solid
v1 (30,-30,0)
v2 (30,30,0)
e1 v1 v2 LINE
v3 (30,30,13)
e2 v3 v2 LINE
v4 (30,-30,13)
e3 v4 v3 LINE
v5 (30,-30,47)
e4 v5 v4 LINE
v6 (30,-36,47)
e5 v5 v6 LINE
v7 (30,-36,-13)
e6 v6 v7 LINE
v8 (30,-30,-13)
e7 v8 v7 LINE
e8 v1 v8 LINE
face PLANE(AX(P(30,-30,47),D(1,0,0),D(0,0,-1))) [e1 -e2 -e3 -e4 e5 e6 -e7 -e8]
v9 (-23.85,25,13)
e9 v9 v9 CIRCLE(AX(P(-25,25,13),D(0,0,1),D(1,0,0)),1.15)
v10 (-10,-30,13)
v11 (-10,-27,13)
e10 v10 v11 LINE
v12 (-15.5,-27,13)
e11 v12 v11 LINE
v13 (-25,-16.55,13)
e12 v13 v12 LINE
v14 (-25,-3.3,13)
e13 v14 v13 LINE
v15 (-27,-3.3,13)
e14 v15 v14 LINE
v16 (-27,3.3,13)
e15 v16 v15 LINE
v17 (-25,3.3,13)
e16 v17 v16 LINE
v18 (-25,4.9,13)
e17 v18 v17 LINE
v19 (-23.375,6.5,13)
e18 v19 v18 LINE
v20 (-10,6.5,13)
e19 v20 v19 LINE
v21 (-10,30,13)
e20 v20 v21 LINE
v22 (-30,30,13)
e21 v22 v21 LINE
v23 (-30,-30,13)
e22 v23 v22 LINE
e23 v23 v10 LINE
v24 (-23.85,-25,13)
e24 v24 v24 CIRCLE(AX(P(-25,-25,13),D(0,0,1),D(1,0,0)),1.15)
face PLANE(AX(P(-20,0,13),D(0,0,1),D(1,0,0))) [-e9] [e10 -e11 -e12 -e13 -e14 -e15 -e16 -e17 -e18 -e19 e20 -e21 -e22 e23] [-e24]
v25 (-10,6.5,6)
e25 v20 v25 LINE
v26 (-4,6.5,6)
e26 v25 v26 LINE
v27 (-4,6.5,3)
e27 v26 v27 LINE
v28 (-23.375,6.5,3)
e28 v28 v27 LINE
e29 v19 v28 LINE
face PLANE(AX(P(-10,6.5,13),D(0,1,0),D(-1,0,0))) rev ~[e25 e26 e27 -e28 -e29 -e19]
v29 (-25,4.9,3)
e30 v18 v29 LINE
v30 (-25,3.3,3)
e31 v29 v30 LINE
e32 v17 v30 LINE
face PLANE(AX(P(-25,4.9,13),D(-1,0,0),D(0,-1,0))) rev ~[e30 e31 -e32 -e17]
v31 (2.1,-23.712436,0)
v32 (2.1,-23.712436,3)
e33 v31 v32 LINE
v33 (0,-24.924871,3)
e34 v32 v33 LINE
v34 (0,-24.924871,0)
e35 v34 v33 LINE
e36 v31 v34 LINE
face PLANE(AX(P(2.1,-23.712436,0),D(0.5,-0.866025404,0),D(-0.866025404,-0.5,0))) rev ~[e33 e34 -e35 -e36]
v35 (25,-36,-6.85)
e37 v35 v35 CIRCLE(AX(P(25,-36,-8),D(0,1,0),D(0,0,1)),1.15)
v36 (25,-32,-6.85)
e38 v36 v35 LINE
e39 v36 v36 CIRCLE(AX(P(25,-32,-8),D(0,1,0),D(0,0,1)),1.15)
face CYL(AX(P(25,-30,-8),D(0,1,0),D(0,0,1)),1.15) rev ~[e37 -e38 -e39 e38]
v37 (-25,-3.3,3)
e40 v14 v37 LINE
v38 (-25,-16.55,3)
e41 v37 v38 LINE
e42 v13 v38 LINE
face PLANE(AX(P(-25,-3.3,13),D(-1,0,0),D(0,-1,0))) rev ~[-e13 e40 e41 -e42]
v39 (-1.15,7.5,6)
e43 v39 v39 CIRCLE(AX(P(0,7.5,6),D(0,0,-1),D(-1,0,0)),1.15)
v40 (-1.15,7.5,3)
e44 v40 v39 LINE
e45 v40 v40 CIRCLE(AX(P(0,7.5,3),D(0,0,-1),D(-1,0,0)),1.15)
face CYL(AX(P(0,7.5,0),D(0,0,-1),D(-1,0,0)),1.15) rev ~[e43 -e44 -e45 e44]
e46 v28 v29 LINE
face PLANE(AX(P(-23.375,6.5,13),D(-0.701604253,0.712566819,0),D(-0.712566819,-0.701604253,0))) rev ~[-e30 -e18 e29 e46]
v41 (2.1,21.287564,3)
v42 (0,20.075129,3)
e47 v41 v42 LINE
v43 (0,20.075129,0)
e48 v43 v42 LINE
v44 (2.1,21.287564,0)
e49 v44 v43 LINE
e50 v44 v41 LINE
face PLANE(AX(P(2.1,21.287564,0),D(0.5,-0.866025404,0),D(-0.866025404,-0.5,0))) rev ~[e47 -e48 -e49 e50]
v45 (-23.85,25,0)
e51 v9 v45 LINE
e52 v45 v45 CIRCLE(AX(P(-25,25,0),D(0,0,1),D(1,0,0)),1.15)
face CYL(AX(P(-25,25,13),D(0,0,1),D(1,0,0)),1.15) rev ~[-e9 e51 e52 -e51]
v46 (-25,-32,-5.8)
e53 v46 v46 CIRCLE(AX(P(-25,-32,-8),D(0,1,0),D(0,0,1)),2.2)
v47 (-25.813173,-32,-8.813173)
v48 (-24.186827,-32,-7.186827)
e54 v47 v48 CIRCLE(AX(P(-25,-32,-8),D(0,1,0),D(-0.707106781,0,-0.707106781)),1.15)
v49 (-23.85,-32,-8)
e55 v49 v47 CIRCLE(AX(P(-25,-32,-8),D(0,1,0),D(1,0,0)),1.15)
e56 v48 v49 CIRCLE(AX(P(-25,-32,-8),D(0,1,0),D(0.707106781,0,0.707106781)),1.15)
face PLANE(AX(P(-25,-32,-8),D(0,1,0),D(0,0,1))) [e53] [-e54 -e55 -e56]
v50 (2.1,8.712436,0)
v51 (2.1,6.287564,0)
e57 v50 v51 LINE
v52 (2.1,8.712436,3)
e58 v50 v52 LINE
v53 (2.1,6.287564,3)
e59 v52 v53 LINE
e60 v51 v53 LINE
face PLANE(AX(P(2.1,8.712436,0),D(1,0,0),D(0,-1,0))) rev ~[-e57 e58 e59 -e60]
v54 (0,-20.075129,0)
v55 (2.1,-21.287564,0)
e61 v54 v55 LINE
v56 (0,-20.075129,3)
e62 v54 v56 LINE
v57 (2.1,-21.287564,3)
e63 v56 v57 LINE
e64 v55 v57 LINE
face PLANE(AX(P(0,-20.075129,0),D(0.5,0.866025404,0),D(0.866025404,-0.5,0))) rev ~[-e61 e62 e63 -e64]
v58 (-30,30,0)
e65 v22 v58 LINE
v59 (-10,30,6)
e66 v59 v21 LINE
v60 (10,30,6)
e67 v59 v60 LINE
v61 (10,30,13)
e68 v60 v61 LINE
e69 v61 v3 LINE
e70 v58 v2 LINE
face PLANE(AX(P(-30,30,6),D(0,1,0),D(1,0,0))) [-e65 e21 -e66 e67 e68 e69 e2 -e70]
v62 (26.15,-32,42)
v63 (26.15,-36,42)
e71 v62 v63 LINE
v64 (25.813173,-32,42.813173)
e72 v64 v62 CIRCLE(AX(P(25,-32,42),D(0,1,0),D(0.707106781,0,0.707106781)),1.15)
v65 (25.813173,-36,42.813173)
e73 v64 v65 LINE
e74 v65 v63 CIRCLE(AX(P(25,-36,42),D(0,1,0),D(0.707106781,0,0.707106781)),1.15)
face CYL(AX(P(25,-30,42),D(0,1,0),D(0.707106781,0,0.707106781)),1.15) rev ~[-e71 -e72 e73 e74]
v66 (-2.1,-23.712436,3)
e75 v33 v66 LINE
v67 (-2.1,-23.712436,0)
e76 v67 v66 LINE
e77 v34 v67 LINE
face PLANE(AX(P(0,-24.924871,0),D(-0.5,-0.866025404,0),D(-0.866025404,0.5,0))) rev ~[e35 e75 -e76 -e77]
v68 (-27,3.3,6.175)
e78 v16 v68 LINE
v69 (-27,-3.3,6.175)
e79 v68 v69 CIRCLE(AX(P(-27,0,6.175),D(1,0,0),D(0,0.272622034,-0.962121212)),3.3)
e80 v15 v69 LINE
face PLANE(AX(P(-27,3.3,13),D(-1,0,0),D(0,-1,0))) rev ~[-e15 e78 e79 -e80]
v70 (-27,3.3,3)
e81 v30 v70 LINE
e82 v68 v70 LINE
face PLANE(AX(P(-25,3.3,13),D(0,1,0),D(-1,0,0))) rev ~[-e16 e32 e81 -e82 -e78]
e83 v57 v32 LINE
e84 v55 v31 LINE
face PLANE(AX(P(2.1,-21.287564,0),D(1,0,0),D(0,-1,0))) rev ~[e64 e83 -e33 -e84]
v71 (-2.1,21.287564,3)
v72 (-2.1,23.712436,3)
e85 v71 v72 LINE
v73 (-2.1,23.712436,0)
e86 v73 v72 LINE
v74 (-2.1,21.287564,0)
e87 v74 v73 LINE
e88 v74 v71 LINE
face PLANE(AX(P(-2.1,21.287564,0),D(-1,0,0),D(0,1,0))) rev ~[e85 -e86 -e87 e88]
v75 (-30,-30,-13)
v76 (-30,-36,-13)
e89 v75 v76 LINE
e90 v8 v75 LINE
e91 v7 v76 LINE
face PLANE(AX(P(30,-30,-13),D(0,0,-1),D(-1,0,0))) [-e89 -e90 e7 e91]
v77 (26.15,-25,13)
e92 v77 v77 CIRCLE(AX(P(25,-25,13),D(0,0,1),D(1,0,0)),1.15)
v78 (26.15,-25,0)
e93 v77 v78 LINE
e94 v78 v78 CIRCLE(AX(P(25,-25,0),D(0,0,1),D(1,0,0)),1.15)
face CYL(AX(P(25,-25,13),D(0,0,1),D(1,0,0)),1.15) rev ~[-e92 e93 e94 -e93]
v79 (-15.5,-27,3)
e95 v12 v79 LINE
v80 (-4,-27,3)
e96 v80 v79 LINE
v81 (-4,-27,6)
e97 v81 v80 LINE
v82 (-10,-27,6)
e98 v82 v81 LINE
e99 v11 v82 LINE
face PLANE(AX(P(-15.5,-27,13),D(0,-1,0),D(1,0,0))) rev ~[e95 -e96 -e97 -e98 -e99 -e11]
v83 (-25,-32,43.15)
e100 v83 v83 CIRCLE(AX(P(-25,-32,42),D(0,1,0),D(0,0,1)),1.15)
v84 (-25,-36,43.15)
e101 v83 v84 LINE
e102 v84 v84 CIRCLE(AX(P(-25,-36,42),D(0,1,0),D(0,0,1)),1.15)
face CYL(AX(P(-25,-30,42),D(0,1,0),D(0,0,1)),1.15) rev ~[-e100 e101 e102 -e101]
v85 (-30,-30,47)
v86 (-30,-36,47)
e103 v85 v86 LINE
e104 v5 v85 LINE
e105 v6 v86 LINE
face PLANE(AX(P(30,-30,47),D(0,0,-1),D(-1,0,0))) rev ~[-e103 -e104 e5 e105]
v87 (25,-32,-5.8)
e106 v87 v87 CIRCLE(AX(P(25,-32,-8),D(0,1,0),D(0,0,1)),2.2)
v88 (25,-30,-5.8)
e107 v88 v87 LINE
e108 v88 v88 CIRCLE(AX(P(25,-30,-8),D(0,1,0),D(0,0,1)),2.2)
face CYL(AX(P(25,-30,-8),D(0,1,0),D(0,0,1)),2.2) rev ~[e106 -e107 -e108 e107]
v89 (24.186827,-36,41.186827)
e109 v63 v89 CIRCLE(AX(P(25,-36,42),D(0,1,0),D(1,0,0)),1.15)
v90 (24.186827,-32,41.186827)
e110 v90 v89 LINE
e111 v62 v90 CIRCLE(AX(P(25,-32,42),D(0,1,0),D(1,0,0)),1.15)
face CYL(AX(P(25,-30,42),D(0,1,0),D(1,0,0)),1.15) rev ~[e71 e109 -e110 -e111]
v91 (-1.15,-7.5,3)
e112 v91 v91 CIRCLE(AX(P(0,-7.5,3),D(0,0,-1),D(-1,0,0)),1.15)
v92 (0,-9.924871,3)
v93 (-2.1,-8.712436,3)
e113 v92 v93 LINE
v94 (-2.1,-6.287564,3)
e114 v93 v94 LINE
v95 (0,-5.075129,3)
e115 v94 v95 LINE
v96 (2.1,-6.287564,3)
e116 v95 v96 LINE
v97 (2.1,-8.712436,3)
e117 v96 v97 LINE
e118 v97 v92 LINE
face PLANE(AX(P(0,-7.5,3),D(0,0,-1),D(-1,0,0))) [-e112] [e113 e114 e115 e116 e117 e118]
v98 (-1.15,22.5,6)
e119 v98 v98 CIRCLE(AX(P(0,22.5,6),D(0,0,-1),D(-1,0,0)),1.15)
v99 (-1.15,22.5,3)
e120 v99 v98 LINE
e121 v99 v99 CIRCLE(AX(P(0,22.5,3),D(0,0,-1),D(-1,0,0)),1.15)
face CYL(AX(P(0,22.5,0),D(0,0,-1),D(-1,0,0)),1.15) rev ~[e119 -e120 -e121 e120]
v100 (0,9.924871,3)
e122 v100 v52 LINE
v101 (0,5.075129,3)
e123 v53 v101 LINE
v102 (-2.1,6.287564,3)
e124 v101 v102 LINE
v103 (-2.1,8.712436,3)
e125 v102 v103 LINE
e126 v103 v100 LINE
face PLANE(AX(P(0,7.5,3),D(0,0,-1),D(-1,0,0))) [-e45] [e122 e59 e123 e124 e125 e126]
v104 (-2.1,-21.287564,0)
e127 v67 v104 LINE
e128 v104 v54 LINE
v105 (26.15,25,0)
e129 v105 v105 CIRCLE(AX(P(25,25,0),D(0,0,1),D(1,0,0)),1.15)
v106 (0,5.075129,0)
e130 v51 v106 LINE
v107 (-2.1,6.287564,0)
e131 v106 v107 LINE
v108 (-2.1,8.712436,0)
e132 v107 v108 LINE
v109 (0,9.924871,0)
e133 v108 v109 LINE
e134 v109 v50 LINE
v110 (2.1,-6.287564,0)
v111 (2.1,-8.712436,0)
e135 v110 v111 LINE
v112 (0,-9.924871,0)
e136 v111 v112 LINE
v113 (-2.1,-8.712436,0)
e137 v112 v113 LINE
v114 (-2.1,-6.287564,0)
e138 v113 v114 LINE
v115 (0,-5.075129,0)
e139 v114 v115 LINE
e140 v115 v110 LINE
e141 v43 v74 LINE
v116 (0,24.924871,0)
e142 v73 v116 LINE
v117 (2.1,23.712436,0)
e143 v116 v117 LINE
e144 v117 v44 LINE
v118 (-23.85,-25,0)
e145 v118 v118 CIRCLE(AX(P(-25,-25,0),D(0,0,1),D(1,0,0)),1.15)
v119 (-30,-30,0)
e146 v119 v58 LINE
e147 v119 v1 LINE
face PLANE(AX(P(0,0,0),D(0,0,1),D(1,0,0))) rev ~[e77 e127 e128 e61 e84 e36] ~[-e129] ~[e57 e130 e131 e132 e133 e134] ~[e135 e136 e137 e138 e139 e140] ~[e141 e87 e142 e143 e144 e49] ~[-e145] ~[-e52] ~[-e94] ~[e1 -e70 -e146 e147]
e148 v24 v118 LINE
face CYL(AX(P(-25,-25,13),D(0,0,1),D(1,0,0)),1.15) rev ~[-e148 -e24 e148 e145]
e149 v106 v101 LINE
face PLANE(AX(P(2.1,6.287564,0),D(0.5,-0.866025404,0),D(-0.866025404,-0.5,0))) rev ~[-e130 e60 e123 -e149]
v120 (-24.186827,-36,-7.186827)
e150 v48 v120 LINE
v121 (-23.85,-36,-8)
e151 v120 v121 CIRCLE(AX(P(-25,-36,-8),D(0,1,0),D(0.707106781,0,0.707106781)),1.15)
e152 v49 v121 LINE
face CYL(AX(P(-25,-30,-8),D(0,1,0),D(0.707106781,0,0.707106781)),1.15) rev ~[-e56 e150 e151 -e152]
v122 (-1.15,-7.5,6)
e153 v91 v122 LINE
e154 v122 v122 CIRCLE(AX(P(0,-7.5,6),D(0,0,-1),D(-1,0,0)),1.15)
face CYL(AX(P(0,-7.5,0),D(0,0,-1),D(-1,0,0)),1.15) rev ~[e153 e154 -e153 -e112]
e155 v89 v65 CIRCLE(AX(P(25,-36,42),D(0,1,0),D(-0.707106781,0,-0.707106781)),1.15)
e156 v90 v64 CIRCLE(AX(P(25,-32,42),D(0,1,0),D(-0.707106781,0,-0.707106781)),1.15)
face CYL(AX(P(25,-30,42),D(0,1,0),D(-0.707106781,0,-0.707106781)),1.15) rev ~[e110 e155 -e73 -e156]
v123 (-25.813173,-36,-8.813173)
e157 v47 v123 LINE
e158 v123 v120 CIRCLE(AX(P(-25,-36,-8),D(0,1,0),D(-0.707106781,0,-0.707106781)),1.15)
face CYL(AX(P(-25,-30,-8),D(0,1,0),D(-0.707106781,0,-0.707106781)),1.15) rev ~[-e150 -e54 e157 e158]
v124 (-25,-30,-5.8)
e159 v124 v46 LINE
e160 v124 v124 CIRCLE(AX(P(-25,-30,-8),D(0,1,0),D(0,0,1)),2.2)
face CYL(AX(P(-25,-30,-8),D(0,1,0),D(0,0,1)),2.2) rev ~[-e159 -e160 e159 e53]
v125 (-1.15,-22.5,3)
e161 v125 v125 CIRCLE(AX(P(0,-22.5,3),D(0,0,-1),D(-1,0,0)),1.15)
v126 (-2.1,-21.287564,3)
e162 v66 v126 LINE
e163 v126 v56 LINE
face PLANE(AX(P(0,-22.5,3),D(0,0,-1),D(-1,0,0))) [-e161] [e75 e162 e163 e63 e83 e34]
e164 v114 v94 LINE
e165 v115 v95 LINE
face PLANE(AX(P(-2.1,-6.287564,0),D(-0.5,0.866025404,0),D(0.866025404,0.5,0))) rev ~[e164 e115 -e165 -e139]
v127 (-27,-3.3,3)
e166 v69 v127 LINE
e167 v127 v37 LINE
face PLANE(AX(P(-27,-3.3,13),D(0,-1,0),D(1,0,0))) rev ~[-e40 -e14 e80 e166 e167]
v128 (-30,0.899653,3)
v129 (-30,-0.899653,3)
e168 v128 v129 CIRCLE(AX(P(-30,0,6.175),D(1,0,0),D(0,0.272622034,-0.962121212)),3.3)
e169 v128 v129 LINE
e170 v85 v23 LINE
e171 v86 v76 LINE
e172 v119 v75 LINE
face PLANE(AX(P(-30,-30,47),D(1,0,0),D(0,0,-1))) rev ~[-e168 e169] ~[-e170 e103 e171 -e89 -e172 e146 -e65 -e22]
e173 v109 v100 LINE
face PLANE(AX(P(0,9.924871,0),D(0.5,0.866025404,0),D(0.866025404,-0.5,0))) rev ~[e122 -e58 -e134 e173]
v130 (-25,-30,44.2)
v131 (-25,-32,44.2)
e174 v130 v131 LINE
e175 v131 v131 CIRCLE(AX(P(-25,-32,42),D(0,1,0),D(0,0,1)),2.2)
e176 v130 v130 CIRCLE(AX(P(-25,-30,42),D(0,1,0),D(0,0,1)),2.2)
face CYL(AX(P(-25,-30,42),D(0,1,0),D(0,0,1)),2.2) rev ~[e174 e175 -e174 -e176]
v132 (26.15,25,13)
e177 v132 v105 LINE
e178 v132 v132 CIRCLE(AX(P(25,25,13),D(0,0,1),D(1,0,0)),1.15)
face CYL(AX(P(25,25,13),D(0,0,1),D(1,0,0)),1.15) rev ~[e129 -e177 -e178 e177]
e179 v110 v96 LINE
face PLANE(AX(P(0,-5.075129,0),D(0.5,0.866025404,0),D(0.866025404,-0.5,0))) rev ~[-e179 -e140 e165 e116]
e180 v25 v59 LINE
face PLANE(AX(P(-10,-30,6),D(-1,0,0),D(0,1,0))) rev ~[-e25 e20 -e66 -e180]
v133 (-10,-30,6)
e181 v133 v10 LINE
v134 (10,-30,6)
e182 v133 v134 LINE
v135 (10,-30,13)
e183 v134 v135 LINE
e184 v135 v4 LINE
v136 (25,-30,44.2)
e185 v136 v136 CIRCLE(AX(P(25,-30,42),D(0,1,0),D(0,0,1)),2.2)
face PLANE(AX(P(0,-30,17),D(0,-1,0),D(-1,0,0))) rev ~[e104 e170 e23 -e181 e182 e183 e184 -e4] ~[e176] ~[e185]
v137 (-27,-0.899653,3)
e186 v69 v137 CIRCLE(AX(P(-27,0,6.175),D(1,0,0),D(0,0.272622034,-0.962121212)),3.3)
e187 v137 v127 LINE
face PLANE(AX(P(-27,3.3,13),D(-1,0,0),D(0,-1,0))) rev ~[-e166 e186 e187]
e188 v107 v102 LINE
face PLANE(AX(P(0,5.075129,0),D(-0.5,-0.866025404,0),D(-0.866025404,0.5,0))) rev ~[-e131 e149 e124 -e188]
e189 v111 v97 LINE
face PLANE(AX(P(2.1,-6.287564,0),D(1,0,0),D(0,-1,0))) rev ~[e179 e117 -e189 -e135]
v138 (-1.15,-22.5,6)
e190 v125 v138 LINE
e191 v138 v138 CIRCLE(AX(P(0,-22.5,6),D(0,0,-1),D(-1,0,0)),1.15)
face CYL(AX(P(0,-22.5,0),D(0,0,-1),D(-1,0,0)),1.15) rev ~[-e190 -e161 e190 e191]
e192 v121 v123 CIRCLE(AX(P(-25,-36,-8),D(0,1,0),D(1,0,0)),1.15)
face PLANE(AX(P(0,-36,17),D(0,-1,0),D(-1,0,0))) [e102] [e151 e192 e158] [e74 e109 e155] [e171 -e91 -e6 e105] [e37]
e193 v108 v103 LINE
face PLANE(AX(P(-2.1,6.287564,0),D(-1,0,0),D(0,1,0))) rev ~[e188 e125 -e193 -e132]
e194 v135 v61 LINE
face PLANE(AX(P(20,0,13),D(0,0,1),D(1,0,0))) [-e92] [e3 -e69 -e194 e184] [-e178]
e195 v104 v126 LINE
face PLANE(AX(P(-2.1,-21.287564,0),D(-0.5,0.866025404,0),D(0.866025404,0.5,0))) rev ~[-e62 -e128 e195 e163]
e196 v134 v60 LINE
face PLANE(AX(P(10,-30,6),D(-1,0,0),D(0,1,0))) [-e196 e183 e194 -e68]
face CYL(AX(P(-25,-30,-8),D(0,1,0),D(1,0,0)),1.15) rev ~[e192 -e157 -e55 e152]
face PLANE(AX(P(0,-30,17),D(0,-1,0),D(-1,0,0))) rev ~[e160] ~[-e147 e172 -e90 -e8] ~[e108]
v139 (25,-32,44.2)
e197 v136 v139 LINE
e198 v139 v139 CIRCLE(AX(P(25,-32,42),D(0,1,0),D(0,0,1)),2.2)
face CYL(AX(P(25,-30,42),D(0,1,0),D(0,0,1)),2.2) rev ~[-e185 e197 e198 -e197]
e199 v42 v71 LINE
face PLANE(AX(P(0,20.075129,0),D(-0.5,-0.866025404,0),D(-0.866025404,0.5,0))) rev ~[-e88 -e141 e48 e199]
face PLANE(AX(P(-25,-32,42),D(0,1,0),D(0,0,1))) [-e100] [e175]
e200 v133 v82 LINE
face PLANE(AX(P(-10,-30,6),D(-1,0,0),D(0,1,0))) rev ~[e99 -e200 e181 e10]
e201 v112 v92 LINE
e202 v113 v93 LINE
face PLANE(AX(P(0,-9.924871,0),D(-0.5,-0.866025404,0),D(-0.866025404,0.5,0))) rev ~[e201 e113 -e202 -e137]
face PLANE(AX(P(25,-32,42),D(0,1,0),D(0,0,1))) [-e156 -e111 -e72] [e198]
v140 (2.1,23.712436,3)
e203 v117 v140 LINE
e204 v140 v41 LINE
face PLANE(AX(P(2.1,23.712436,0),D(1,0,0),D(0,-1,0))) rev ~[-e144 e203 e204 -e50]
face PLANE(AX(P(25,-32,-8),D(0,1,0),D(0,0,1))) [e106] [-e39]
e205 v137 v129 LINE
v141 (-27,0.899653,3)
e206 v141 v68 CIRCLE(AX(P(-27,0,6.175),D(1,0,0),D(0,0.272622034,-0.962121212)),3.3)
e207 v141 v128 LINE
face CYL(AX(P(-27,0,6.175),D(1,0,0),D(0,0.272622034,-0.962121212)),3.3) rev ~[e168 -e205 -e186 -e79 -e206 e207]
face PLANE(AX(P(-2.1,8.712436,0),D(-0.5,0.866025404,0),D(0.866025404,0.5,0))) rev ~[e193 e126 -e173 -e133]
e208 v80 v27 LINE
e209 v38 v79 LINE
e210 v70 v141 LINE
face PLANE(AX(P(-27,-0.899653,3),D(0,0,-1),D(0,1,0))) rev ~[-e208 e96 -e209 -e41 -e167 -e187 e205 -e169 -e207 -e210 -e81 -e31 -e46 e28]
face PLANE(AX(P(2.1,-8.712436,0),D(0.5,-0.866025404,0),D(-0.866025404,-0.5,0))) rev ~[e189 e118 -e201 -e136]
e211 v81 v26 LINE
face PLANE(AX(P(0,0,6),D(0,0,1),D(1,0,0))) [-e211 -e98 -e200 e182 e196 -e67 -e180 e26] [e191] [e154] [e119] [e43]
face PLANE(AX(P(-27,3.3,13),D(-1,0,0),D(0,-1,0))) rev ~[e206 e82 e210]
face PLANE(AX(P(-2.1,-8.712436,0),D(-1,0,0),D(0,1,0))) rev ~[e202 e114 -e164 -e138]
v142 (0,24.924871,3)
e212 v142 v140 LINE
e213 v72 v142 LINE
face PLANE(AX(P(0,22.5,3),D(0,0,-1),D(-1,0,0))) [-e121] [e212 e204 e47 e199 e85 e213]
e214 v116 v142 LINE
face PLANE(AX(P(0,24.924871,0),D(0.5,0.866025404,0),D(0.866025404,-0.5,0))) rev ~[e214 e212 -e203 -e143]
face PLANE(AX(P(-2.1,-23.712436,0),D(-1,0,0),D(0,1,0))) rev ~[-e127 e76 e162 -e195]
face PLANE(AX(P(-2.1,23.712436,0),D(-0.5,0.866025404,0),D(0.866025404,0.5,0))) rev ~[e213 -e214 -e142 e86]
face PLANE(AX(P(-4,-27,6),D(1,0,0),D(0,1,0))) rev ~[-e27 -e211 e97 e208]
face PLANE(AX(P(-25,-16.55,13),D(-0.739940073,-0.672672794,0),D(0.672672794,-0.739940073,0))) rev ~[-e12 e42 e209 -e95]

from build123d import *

# Parameters (mm, degrees)
SKETCH1_W           = 60
SKETCH1_H           = 60
BOSS_EXTRUDE1_DEPTH = 6
CUT_EXTRUDE2_DEPTH  = 3
SKETCH12_R          = 1.15
CUT_EXTRUDE9_DEPTH  = 43.848570571
SKETCH5_W           = 20
SKETCH5_H           = 60
BOSS_EXTRUDE2_DEPTH = 7
SKETCH6_R           = 1.15
CUT_EXTRUDE4_DEPTH  = 45.373415465
CUT_EXTRUDE6_DEPTH  = 10
SKETCH10_W          = 6
SKETCH10_H          = 33.5
CUT_EXTRUDE7_DEPTH  = 3
CUT_EXTRUDE8_DEPTH  = 66.711490624
SKETCH13_W          = 60
SKETCH13_H          = 60
BOSS_EXTRUDE3_DEPTH = 6
SKETCH14_R          = 1.15
CUT_EXTRUDE10_DEPTH = 82.908485519
SKETCH15_R          = 2.2
CUT_EXTRUDE11_DEPTH = 2


with BuildPart() as part:
    # Sketch1 → Boss-Extrude1 (new body)
    with BuildSketch(Plane.XY):
        Rectangle(SKETCH1_W, SKETCH1_H)
    extrude(amount=BOSS_EXTRUDE1_DEPTH)

    # Sketch3 → Cut-Extrude2 (cut)
    with BuildSketch(Plane(origin=(0, 0, 0), x_dir=(-1, 0, 0), z_dir=(0, 0, -1))):
        Polygon((2.1, 6.287564435), (2.1, 8.712435565), (0, 9.924871131), (-2.1, 8.712435565), (-2.1, 6.287564435), (0, 5.075128869), align=None)
        Polygon((2.1, -8.712435565), (2.1, -6.287564435), (0, -5.075128869), (-2.1, -6.287564435), (-2.1, -8.712435565), (0, -9.924871131), align=None)
        Polygon((2.1, -23.712435565), (2.1, -21.287564435), (0, -20.075128869), (-2.1, -21.287564435), (-2.1, -23.712435565), (0, -24.924871131), align=None)
        Polygon((0, 20.075128869), (2.1, 21.287564435), (2.1, 23.712435565), (0, 24.924871131), (-2.1, 23.712435565), (-2.1, 21.287564435), align=None)
    extrude(amount=-CUT_EXTRUDE2_DEPTH, mode=Mode.SUBTRACT)

    # Sketch12 → Cut-Extrude9 (cut, through all)
    with BuildSketch(Plane(origin=(0, 0, 0), x_dir=(-1, 0, 0), z_dir=(0, 0, -1))):
        with Locations((0, 22.5)):
            Circle(SKETCH12_R)
        with Locations((0, 7.5)):
            Circle(SKETCH12_R)
        with Locations((0, -7.5)):
            Circle(SKETCH12_R)
        with Locations((0, -22.5)):
            Circle(SKETCH12_R)
    extrude(amount=-CUT_EXTRUDE9_DEPTH, mode=Mode.SUBTRACT)

    # Sketch5 → Boss-Extrude2 (add)
    with BuildSketch(Plane.XY.offset(6)):
        with Locations((-20, 0)):
            Rectangle(SKETCH5_W, SKETCH5_H)
        with Locations((20, 0)):
            Rectangle(SKETCH5_W, SKETCH5_H)
    extrude(amount=BOSS_EXTRUDE2_DEPTH)

    # Sketch6 → Cut-Extrude4 (cut, through all)
    with BuildSketch(Plane.XY.offset(13)):
        with Locations((-25, 25)):
            Circle(SKETCH6_R)
        with Locations((25, 25)):
            Circle(SKETCH6_R)
        with Locations((25, -25)):
            Circle(SKETCH6_R)
        with Locations((-25, -25)):
            Circle(SKETCH6_R)
    extrude(amount=-CUT_EXTRUDE4_DEPTH, mode=Mode.SUBTRACT)

    # Sketch9 → Cut-Extrude6 (cut)
    with BuildSketch(Plane.XY.offset(13)):
        Polygon((-25, -16.55), (-15.5, -27), (-10, -27), (-10, 6.5), (-23.375, 6.5), (-25, 4.9), (-25, 3.3), (-27, 3.3), (-27, -3.3), (-25, -3.3), align=None)
    extrude(amount=-CUT_EXTRUDE6_DEPTH, mode=Mode.SUBTRACT)

    # Sketch10 → Cut-Extrude7 (cut)
    with BuildSketch(Plane.XY.offset(6)):
        with Locations((-7, -10.25)):
            Rectangle(SKETCH10_W, SKETCH10_H)
    extrude(amount=-CUT_EXTRUDE7_DEPTH, mode=Mode.SUBTRACT)

    # Sketch11 → Cut-Extrude8 (cut, through all)
    with BuildSketch(Plane(origin=(-27, 0, 0), x_dir=(0, 0, -1), z_dir=(1, 0, 0))):
        with BuildLine():
            Line((-3, -0.899652711), (-3, 0.899652711))
            ThreePointArc((-3, 0.899652711), (-9.475, 0), (-3, -0.899652711))
        make_face()
    extrude(amount=-CUT_EXTRUDE8_DEPTH, mode=Mode.SUBTRACT)

    # Sketch13 → Boss-Extrude3 (add)
    with BuildSketch(Plane(origin=(0, -30, 0), x_dir=(-1, 0, 0), z_dir=(0, -1, 0))):
        with Locations((0, -17)):
            Rectangle(SKETCH13_W, SKETCH13_H)
    extrude(amount=BOSS_EXTRUDE3_DEPTH)

    # Sketch14 → Cut-Extrude10 (cut, through all)
    with BuildSketch(Plane(origin=(0, -30, 0), x_dir=(1, 0, 0), z_dir=(0, 1, 0))):
        with BuildLine():
            ThreePointArc((-25.813172798, 8.813172798), (-25.813172798, 7.186827202), (-24.186827202, 7.186827202))
            Line((-24.186827202, 7.186827202), (-25.813172798, 8.813172798))
        make_face()
        with BuildLine():
            Line((-25.813172798, 8.813172798), (-24.186827202, 7.186827202))
            ThreePointArc((-24.186827202, 7.186827202), (-23.937538538, 7.559914053), (-23.85, 8))
            ThreePointArc((-23.85, 8), (-24.559914053, 9.062461462), (-25.813172798, 8.813172798))
        make_face()
        with Locations(Location((25, 8, 0), (0, 0, 270))):
            Circle(SKETCH14_R)
        with BuildLine():
            ThreePointArc((26.15, -42), (25.440085947, -40.937538538), (24.186827202, -41.186827202))
            Line((24.186827202, -41.186827202), (25.813172798, -42.813172798))
            ThreePointArc((25.813172798, -42.813172798), (26.062461462, -42.440085947), (26.15, -42))
        make_face()
        with BuildLine():
            Line((25.813172798, -42.813172798), (24.186827202, -41.186827202))
            ThreePointArc((24.186827202, -41.186827202), (24.186827202, -42.813172798), (25.813172798, -42.813172798))
        make_face()
        with Locations(Location((-25, -42, 0), (0, 0, 270))):
            Circle(SKETCH14_R)
    extrude(amount=-CUT_EXTRUDE10_DEPTH, mode=Mode.SUBTRACT)

    # Sketch15 → Cut-Extrude11 (cut)
    with BuildSketch(Plane(origin=(0, -30, 0), x_dir=(1, 0, 0), z_dir=(0, 1, 0))):
        with Locations(Location((25, -42, 0), (0, 0, 270))):
            Circle(SKETCH15_R)
        with Locations(Location((-25, -42, 0), (0, 0, 270))):
            Circle(SKETCH15_R)
        with Locations(Location((-25, 8, 0), (0, 0, 270))):
            Circle(SKETCH15_R)
        with Locations(Location((25, 8, 0), (0, 0, 270))):
            Circle(SKETCH15_R)
    extrude(amount=-CUT_EXTRUDE11_DEPTH, mode=Mode.SUBTRACT)


solid = part.part
